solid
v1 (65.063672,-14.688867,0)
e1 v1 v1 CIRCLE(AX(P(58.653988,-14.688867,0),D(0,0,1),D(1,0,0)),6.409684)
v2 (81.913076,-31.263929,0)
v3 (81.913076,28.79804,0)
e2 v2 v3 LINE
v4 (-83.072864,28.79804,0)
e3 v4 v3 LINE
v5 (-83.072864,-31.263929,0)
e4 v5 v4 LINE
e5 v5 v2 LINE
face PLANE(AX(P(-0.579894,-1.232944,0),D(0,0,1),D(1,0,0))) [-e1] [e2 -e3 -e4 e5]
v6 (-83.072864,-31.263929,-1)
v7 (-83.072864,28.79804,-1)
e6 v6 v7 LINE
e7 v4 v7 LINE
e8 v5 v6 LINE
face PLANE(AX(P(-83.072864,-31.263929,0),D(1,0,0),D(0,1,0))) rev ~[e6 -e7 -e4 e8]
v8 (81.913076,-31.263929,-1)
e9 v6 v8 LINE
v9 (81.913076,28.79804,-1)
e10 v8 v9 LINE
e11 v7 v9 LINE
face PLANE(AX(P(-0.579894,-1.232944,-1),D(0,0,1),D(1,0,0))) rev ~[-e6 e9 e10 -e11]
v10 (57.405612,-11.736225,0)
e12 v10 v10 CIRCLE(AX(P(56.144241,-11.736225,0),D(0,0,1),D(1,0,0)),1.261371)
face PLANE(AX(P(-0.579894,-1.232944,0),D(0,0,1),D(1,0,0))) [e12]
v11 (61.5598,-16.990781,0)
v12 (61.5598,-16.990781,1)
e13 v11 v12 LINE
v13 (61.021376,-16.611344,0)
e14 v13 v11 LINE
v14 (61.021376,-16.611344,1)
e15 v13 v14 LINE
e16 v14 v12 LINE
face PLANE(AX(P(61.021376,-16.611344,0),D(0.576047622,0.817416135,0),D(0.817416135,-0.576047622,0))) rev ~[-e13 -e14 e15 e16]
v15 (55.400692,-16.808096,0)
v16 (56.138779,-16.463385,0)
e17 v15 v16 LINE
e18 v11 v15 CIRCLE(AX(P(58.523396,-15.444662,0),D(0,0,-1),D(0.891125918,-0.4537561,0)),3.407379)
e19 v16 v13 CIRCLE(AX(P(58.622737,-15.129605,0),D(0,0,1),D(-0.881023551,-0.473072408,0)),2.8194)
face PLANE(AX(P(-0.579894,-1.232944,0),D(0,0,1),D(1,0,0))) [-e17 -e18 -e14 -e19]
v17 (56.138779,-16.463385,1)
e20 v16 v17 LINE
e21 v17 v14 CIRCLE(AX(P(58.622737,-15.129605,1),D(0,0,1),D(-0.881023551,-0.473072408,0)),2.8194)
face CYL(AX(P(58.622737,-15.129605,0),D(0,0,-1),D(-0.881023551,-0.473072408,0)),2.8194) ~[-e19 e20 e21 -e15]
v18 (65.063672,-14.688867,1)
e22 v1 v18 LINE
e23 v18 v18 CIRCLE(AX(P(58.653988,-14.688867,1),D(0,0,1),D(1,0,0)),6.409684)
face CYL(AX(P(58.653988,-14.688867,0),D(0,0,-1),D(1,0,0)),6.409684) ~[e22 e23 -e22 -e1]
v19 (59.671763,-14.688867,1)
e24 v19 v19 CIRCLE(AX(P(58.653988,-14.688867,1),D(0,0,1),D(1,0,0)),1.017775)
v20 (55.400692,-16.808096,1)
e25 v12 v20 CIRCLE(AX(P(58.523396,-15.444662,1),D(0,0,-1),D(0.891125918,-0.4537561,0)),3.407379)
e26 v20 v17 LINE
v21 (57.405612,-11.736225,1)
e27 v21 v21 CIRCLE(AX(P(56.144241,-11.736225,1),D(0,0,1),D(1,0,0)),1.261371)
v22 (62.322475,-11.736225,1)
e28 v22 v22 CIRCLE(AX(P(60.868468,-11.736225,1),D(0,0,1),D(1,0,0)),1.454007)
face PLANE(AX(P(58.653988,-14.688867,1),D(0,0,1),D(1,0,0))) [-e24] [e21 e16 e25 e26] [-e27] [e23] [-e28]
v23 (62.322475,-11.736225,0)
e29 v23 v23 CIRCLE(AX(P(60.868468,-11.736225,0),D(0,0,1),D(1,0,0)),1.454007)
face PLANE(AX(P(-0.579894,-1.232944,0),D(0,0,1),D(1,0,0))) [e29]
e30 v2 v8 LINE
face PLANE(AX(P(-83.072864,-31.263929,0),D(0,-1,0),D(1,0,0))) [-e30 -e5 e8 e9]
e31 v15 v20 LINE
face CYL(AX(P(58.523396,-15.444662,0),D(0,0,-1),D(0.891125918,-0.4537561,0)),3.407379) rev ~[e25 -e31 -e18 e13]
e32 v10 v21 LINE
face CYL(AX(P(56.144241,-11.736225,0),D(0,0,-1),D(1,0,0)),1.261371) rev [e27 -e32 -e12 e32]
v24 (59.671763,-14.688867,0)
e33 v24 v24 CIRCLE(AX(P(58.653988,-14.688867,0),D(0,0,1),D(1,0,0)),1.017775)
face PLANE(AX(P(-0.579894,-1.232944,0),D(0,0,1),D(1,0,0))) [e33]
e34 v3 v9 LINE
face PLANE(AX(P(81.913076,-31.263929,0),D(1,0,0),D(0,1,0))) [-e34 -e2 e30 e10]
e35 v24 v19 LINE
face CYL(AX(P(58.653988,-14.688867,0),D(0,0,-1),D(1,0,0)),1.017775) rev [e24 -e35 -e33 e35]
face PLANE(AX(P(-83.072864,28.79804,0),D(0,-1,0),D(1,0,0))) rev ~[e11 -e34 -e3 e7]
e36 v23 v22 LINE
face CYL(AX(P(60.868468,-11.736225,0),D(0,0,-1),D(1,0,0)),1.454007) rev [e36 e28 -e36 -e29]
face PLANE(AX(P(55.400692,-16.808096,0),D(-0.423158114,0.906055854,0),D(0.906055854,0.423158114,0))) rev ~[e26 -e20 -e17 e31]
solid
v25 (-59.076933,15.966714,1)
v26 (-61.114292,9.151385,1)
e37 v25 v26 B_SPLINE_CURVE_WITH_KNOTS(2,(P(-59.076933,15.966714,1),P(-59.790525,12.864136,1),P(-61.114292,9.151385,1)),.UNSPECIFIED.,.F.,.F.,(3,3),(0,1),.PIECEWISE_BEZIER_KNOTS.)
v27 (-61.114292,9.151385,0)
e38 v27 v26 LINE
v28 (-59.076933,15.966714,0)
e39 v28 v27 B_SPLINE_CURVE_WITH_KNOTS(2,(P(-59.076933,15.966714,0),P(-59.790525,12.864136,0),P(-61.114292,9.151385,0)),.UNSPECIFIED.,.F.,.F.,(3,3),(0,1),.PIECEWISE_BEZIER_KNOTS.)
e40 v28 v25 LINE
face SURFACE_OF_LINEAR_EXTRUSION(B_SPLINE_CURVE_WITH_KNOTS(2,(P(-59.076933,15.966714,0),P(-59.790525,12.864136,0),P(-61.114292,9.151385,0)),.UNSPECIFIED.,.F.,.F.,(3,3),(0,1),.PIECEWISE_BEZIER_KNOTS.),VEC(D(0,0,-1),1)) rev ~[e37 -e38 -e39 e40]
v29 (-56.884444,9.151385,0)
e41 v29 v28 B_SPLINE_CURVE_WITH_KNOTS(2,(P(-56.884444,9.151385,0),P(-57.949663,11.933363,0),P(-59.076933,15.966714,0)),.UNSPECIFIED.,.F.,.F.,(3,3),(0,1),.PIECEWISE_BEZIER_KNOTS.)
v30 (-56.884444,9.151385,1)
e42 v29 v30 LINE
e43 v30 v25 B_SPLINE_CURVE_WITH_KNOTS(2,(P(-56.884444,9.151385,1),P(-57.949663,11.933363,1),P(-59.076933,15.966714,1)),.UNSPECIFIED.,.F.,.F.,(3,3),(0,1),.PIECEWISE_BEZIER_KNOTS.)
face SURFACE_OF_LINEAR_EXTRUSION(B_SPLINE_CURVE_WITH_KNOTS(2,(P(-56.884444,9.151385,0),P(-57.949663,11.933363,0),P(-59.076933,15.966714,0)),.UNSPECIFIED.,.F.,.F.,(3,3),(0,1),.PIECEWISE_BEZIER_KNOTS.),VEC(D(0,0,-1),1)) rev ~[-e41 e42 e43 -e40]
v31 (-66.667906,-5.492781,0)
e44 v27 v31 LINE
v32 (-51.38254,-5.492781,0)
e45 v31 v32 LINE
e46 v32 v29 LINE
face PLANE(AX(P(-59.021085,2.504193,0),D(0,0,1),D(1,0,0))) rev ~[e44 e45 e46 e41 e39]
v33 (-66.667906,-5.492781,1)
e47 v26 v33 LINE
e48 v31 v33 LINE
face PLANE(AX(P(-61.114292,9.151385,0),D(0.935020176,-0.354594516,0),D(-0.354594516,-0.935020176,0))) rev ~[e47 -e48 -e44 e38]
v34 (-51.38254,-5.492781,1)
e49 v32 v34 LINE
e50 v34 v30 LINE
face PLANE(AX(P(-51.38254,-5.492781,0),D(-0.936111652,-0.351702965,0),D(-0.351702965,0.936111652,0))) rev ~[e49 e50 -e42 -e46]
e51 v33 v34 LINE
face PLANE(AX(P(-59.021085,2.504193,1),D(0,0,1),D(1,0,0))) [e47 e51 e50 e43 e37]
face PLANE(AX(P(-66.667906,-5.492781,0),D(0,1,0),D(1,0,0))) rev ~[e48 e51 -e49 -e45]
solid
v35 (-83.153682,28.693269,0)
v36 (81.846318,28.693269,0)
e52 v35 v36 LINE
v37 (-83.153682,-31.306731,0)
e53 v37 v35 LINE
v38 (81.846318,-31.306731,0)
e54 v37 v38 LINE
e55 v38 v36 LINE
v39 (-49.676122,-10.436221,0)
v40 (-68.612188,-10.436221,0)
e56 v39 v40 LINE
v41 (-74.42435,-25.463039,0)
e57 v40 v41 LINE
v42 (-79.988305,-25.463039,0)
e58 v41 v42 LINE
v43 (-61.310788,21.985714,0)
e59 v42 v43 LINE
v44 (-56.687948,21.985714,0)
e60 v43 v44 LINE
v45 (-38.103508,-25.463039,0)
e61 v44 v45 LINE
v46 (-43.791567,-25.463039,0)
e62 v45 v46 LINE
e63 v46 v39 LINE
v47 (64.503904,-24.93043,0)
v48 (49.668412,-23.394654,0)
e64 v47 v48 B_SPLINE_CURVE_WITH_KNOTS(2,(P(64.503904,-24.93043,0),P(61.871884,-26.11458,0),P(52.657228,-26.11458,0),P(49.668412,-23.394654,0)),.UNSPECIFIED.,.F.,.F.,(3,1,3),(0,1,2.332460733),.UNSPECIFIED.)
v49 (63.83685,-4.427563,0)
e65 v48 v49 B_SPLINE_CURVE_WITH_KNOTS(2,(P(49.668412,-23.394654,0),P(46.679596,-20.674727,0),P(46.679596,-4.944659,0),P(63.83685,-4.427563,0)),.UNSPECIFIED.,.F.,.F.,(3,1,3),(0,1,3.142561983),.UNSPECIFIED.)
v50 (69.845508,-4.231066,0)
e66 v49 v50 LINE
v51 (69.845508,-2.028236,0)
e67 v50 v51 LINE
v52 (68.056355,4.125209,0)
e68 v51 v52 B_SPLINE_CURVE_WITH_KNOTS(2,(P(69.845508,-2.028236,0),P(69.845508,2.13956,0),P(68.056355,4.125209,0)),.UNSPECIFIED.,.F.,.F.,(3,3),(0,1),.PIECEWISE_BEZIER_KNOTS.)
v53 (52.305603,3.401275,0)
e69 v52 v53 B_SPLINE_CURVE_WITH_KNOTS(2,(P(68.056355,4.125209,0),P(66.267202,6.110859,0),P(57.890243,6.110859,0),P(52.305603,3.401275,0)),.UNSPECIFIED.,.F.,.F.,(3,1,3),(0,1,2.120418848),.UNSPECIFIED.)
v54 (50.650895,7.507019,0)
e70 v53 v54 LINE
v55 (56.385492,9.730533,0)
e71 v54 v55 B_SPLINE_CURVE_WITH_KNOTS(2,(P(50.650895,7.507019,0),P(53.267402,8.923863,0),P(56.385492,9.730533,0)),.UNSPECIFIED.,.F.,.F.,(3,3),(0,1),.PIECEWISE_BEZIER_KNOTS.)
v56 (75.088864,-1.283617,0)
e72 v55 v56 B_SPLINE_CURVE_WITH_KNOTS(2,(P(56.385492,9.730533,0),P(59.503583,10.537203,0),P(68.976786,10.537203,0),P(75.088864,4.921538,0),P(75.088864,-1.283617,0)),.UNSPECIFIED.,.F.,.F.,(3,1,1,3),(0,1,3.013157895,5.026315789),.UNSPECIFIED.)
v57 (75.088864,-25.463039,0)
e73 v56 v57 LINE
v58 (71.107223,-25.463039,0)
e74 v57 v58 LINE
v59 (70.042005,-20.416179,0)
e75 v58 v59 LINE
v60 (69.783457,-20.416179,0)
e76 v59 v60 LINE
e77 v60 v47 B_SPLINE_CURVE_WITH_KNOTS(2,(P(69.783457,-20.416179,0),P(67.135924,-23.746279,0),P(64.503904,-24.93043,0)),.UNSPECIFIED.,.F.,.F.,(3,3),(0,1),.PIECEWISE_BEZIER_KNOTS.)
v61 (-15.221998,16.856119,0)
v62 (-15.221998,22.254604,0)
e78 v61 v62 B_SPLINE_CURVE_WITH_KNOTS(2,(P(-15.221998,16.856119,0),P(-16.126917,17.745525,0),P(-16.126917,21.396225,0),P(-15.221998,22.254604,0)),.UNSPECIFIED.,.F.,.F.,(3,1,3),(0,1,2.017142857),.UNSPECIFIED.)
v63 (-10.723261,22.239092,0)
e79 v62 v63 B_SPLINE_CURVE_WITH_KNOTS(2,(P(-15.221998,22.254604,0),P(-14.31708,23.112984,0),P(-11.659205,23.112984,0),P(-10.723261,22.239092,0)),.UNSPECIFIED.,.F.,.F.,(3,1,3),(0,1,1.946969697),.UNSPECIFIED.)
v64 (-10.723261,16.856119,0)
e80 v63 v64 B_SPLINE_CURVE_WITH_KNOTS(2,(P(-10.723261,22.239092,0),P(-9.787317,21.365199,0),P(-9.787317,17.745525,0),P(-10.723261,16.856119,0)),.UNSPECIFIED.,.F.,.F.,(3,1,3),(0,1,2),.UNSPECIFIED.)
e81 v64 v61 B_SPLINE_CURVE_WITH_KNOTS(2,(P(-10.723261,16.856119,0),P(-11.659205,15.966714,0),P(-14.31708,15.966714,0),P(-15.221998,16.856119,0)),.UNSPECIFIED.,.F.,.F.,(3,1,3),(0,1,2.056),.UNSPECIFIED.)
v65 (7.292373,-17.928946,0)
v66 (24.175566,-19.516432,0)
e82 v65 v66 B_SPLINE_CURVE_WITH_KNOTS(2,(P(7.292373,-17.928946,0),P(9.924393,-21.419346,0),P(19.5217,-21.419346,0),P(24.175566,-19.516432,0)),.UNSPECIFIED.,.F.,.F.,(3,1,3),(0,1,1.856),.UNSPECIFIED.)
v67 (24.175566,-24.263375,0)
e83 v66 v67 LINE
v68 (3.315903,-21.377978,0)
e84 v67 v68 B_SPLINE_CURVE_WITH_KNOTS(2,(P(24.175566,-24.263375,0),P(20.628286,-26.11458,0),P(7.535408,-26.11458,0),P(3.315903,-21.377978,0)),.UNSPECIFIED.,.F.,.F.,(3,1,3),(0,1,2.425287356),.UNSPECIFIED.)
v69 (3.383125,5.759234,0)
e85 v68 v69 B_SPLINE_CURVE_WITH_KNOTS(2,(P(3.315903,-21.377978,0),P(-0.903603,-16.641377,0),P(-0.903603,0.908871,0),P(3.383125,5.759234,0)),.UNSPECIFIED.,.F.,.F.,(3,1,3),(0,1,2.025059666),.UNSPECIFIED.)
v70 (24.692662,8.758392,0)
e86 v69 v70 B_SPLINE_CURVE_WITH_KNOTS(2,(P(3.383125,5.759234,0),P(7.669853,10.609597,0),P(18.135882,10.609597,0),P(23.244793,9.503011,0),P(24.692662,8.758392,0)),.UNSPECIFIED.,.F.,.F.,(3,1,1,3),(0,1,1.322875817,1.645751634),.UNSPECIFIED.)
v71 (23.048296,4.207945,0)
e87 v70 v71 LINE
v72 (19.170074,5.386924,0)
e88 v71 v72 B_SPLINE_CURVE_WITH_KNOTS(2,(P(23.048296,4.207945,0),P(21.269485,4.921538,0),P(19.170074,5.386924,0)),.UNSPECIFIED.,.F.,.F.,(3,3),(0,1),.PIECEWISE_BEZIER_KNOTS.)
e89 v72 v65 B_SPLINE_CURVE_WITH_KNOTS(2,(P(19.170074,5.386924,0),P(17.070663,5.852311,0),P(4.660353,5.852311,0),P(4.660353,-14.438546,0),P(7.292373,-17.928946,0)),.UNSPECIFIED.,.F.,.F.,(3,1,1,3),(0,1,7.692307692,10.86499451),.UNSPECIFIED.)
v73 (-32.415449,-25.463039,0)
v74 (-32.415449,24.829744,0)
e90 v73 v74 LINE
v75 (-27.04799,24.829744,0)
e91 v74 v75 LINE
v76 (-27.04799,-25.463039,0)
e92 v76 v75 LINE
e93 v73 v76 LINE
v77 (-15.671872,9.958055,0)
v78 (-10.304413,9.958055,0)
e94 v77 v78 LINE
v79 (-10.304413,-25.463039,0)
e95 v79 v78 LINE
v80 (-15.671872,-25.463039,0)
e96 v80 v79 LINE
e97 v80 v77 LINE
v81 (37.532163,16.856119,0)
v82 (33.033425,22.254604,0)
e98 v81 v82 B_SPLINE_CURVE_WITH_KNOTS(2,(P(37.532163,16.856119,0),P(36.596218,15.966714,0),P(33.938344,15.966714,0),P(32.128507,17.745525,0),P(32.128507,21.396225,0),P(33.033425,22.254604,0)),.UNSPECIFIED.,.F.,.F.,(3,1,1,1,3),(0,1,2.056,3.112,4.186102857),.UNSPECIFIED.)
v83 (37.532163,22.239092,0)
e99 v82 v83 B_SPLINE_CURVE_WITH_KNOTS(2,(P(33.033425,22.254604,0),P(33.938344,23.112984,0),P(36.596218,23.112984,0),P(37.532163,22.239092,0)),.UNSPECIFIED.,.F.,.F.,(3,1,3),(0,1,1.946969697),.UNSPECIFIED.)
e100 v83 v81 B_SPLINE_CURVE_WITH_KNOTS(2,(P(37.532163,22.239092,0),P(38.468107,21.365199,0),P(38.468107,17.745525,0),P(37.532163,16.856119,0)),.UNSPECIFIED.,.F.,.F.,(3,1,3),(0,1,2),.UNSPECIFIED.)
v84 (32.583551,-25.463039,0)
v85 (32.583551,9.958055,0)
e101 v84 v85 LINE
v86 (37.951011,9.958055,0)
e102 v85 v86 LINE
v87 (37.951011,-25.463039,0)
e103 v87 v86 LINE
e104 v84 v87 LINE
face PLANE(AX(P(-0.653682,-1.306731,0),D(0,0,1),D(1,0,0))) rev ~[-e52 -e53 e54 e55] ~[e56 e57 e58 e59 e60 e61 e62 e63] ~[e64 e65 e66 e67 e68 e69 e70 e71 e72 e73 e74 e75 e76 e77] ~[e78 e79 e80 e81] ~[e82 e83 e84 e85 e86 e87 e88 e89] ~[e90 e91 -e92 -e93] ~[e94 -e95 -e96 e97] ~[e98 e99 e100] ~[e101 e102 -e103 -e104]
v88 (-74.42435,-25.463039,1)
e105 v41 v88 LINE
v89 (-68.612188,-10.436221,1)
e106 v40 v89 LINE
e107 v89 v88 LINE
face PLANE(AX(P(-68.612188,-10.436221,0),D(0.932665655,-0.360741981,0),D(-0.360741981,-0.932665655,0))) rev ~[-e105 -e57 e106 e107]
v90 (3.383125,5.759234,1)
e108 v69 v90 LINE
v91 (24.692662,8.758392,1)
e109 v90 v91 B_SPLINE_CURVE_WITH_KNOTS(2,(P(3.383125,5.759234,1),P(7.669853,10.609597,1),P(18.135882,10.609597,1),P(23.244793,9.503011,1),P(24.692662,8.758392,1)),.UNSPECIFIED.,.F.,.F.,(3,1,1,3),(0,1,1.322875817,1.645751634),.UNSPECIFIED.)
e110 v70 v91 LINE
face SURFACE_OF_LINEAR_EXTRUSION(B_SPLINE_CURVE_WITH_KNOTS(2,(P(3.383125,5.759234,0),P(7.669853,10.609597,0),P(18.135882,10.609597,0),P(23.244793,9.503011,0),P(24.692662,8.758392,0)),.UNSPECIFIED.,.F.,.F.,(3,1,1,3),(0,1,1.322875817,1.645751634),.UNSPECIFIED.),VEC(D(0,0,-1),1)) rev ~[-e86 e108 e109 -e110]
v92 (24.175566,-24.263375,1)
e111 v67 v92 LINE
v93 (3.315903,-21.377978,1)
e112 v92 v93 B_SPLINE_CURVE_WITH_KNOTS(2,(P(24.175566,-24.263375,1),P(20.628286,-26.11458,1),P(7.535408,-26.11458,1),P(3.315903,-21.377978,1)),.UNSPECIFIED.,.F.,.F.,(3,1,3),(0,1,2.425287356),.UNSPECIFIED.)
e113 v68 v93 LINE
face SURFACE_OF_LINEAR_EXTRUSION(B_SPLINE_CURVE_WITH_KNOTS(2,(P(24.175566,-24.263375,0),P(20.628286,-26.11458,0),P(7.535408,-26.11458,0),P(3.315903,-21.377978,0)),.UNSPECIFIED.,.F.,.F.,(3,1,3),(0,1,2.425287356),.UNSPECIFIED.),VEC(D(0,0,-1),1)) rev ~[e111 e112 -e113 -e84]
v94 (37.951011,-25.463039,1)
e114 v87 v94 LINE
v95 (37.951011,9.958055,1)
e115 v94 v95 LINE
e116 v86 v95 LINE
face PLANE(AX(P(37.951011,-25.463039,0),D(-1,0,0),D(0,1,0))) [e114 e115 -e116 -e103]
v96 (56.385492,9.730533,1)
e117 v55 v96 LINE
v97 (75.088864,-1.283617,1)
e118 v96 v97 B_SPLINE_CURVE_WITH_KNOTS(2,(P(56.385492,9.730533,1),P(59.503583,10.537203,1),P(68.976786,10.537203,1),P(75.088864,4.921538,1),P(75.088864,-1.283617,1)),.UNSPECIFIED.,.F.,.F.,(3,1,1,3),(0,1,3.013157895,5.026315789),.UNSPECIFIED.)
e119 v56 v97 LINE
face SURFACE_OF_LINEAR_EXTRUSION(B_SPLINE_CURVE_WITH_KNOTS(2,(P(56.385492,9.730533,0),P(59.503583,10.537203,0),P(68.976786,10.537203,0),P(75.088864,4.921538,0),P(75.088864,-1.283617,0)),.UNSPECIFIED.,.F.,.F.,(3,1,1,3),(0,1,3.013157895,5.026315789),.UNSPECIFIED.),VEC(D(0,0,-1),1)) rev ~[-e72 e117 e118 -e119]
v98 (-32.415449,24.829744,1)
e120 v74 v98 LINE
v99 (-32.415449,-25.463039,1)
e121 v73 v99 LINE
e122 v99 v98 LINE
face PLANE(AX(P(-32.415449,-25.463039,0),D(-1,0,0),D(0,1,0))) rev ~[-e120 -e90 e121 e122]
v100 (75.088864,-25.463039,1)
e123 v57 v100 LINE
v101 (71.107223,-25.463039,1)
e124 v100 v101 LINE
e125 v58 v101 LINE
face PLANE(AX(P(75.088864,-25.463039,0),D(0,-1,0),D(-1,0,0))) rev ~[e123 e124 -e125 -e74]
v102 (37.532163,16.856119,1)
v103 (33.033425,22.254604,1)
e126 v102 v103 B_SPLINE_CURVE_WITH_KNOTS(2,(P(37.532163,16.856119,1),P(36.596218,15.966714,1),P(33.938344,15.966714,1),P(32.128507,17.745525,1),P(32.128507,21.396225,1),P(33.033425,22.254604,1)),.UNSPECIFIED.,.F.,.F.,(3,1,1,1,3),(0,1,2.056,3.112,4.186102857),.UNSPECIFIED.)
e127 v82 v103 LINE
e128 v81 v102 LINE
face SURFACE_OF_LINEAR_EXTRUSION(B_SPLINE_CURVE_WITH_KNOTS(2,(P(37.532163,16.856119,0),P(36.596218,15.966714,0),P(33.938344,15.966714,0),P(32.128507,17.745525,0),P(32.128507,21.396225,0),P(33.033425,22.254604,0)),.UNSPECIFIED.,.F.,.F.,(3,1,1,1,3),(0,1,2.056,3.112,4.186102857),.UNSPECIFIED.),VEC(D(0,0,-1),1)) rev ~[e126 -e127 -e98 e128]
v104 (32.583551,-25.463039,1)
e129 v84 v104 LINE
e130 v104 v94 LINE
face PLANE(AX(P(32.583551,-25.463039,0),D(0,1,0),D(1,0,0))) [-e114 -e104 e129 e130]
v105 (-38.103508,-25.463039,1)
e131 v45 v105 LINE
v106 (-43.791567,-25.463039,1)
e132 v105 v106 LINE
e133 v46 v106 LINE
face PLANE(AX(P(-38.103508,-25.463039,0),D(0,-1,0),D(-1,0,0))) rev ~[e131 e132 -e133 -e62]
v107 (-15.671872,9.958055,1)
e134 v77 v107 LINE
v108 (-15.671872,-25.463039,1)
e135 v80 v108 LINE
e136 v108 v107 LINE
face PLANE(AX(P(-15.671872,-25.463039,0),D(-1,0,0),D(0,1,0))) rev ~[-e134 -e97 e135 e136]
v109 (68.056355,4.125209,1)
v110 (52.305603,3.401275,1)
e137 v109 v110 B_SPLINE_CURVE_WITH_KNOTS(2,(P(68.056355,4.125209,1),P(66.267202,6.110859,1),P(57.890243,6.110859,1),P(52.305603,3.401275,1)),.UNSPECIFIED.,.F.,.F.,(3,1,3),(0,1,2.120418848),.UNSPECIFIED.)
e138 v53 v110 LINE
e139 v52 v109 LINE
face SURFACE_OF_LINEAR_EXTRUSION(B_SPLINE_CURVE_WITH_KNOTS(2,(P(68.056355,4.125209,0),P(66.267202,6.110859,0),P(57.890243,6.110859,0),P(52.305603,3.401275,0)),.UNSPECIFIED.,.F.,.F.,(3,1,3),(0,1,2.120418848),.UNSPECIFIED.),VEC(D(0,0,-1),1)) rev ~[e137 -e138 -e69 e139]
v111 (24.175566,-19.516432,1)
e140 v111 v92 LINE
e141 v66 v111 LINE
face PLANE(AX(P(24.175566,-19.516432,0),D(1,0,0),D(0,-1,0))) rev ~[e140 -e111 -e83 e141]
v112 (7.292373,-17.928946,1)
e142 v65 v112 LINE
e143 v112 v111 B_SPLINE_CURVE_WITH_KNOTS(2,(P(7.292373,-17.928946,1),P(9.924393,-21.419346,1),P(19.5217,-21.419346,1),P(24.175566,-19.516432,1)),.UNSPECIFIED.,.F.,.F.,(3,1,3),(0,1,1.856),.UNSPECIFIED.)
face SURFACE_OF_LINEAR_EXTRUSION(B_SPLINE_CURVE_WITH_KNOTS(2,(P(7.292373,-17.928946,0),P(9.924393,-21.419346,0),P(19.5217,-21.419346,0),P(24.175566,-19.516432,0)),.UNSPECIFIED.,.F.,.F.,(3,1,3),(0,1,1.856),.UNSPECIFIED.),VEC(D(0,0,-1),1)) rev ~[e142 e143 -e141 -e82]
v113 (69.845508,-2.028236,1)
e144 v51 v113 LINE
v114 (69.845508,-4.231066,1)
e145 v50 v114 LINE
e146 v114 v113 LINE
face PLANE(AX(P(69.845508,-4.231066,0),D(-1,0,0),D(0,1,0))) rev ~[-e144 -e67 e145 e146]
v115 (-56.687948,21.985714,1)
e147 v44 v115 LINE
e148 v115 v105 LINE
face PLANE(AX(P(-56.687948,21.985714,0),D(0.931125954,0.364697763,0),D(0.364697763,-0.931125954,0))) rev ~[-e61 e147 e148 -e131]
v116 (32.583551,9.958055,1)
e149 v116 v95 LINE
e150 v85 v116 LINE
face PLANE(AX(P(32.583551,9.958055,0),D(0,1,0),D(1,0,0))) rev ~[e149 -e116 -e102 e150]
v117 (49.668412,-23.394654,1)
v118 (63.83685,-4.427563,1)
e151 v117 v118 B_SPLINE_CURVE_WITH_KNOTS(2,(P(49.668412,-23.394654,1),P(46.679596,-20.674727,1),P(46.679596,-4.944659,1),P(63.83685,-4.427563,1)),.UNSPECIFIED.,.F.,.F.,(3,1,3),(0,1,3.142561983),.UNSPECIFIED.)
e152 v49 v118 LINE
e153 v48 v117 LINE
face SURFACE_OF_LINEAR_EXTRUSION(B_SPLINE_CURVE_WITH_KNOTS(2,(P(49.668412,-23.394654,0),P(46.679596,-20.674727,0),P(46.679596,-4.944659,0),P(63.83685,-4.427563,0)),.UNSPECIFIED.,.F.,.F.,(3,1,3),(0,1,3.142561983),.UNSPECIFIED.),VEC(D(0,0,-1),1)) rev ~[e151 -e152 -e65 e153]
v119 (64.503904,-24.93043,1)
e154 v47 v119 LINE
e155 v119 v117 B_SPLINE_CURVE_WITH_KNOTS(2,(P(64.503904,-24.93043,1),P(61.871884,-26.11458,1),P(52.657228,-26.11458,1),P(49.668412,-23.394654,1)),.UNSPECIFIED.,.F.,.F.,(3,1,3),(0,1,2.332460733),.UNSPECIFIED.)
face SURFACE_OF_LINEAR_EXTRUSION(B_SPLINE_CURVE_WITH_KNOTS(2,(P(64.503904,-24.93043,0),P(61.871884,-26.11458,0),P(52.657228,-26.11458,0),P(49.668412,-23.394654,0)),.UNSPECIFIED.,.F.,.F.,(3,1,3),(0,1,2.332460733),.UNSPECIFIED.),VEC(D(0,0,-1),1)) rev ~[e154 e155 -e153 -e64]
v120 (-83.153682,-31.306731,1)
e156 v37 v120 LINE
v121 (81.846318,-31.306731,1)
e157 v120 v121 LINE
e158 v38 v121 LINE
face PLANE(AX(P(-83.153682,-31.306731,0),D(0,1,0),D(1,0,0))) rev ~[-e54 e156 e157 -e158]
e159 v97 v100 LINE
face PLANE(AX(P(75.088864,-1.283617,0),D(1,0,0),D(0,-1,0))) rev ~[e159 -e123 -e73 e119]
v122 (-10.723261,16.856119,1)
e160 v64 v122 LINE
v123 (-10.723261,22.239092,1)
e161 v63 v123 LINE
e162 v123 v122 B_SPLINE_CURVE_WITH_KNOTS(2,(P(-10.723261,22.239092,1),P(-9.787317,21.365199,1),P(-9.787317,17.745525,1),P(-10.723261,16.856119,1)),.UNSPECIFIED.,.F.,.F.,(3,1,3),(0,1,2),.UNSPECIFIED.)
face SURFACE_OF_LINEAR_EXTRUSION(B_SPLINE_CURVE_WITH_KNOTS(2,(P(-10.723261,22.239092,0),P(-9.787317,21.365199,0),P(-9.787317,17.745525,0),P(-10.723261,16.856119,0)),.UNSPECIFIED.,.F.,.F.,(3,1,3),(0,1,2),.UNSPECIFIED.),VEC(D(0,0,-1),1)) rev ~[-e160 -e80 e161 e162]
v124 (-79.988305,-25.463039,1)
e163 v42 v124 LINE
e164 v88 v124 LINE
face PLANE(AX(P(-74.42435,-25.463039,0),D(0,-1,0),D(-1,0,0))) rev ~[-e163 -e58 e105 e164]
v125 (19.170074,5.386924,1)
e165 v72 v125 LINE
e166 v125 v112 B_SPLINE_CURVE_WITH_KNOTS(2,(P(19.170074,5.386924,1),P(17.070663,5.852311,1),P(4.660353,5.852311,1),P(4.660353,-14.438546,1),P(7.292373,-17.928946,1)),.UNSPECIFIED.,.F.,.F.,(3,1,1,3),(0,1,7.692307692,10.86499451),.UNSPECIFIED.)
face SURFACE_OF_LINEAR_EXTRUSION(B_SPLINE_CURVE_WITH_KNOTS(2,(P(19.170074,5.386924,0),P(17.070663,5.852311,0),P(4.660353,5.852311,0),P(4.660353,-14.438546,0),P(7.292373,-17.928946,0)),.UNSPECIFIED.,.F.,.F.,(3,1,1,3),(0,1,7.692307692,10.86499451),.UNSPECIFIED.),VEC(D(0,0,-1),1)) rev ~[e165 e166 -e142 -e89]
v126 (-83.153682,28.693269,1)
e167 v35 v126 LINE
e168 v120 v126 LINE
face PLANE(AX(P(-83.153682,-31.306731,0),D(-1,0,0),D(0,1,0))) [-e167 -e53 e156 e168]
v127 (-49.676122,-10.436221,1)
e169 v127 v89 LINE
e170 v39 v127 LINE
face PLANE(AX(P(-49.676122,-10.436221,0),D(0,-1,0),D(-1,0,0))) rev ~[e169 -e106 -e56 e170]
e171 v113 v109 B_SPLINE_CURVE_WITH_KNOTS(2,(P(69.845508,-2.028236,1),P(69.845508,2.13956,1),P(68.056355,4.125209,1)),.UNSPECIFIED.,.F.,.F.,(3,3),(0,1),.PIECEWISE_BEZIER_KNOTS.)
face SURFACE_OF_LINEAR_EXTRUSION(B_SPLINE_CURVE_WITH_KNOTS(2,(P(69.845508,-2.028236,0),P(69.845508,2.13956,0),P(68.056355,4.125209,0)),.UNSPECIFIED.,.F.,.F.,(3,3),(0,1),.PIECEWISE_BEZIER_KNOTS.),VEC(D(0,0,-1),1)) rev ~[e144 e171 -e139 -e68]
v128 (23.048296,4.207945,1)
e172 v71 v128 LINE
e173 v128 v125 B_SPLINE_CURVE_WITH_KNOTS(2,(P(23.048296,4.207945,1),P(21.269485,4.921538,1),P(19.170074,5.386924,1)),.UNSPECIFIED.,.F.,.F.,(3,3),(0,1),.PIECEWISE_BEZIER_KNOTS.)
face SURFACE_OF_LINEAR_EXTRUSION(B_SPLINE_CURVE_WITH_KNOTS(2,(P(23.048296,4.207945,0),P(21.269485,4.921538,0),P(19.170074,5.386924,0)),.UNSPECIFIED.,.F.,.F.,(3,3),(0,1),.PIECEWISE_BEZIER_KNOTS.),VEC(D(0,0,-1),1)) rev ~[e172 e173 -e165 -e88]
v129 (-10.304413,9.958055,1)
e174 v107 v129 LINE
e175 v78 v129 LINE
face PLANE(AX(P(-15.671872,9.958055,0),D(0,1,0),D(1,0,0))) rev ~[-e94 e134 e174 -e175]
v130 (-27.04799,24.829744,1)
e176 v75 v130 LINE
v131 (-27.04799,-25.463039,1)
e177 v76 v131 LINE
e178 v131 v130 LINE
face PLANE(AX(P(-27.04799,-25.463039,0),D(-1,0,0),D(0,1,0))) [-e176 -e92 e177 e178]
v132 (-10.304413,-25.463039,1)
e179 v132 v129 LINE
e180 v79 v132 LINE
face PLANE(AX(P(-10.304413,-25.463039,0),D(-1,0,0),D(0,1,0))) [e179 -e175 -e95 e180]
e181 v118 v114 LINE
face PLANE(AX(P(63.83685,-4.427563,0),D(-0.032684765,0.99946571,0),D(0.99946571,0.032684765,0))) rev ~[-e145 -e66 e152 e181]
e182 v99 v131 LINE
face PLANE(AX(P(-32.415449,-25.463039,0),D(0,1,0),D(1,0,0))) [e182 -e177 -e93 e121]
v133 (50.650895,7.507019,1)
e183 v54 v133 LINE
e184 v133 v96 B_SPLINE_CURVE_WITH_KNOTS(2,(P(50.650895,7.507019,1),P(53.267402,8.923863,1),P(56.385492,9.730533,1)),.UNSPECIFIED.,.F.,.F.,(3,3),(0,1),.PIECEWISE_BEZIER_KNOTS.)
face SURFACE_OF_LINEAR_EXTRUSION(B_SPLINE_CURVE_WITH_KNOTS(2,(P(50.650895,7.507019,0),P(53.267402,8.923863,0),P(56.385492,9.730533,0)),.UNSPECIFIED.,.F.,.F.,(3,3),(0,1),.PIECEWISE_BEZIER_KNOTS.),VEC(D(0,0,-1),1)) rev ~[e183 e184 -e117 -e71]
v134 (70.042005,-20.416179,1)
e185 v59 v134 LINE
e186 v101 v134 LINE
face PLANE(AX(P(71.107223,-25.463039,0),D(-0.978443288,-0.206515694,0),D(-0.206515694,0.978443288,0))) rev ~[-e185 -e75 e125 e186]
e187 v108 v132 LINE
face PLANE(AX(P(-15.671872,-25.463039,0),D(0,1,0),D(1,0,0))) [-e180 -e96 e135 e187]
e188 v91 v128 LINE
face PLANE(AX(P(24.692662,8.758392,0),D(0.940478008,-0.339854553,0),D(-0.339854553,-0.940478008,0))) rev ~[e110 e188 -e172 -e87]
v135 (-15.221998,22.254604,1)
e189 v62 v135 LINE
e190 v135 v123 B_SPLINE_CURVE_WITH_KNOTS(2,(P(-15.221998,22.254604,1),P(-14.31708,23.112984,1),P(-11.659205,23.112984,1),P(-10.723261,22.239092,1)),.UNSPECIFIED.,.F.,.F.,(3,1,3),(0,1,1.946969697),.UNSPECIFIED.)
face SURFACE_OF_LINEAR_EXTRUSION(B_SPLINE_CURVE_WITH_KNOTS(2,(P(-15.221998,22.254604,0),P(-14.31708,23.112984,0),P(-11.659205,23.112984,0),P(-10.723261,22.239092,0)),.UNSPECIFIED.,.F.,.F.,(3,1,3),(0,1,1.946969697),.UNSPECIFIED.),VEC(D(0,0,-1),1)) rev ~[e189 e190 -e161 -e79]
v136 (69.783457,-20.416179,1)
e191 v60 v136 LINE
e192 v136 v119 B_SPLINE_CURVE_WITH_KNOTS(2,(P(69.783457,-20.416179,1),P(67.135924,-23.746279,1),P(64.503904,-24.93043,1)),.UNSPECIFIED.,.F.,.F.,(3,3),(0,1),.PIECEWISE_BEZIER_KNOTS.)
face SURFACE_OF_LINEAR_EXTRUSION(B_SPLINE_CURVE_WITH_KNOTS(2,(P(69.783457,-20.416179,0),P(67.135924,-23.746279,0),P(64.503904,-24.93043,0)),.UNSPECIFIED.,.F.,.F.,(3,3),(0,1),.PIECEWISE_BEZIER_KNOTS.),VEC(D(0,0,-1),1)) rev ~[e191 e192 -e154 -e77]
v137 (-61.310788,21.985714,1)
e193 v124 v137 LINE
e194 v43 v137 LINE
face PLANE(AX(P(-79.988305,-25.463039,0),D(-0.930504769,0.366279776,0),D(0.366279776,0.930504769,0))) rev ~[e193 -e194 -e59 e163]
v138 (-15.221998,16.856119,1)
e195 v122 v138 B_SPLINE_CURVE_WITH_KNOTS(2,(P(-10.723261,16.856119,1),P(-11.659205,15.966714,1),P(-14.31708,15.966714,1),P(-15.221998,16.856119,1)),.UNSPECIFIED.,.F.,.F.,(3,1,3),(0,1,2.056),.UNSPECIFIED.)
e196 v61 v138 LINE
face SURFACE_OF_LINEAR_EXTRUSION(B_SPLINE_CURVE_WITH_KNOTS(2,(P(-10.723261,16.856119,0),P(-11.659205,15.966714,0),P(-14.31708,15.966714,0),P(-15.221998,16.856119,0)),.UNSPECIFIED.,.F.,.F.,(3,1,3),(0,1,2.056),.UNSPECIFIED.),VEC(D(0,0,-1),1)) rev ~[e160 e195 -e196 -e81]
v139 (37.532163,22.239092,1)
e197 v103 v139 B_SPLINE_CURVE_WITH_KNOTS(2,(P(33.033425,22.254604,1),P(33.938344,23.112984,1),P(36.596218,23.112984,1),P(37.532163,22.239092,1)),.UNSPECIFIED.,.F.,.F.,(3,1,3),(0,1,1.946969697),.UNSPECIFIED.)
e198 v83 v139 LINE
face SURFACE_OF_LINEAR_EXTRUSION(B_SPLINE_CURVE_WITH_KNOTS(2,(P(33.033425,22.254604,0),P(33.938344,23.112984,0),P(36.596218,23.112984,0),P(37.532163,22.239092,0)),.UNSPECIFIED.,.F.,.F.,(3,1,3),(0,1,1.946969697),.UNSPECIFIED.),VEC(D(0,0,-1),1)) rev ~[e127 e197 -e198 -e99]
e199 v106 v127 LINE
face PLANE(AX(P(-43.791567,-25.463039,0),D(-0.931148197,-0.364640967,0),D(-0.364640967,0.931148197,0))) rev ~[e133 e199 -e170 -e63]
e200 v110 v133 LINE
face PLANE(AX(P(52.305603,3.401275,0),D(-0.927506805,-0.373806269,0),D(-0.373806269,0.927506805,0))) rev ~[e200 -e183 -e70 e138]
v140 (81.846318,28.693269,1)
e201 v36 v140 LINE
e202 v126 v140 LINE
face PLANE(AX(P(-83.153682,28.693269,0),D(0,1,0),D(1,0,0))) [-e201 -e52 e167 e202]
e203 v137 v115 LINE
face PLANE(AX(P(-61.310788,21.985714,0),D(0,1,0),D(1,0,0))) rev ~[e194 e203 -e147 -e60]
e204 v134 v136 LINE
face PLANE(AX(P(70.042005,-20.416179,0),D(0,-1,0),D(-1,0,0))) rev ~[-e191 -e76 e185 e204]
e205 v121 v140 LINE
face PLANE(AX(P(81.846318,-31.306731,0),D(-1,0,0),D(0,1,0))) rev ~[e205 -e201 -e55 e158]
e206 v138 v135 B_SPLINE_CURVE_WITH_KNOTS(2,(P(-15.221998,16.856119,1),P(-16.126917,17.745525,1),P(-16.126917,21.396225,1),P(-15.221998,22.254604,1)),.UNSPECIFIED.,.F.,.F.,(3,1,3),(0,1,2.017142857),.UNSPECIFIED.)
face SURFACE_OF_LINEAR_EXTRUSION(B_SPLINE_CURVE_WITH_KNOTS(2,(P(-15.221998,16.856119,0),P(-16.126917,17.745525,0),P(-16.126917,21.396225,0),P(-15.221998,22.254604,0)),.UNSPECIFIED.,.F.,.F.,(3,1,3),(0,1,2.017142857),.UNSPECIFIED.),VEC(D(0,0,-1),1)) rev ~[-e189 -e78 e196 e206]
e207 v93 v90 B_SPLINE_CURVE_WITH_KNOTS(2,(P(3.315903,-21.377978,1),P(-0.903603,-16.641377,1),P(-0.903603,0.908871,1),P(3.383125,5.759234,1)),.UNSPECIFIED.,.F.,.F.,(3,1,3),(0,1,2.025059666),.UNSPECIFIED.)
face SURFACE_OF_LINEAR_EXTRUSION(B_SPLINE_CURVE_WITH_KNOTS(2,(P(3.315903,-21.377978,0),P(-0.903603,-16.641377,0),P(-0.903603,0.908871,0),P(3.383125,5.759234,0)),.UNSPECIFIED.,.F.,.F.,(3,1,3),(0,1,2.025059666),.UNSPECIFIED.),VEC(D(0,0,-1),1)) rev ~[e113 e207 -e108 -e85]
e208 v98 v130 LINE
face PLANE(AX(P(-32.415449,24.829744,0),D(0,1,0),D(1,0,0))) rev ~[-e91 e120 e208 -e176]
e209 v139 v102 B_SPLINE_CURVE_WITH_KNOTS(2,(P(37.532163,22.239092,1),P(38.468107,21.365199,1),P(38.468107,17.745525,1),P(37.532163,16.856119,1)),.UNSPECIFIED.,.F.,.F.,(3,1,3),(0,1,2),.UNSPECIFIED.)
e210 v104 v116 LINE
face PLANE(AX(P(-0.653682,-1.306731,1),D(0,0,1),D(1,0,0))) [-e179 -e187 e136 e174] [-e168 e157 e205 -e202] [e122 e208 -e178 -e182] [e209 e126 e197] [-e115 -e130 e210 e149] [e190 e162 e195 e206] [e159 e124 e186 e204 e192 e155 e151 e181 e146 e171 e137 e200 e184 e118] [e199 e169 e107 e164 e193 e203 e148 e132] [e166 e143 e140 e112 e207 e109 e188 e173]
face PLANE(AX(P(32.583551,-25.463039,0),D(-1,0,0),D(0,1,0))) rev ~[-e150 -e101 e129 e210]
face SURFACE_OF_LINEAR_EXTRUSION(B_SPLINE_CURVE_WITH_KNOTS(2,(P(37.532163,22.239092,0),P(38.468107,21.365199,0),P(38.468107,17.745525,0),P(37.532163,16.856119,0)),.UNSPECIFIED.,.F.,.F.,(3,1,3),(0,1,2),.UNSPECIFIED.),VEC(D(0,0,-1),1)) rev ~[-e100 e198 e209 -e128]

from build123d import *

# Parameters (mm, degrees)
F0_W     = 165
F0_H     = 60
F0_W_2   = 5.3674592261
F0_H_2   = 35.4210941219
F0_H_3   = 50.2927826904
F1_DEPTH = 1
F2_W     = 164.9859398603
F2_H     = 60.061968863
F3_DEPTH = 1
F4_R     = 6.409683708
F4_R_2   = 1.2613707954
F4_R_3   = 1.0177752813
F4_R_4   = 1.454007205
F5_DEPTH = 1


with BuildPart() as f1:
    # F0 (on Top) → F1 (new body)
    with BuildSketch(Plane.XY):
        with Locations((-0.6536817551, -1.306731385)):
            Rectangle(F0_W, F0_H)
        Polygon((-38.1035080281, -25.4630388226), (-43.7915669382, -25.4630388226), (-49.6761224288, -10.4362213747), (-68.6121876368, -10.4362213747), (-74.4243496503, -25.4630388226), (-79.9883054569, -25.4630388226), (-61.3107883813, 21.9857144127), (-56.6879477762, 21.9857144127), align=None, mode=Mode.SUBTRACT)
        with Locations((-12.9881424588, -7.7524917617)):
            Rectangle(F0_W_2, F0_H_2, mode=Mode.SUBTRACT)
        with BuildLine():
            add(Edge.make_bspline(
                [(24.1755660746, -24.2633754889), (20.6282856998, -26.114580116), (15.2298006979, -26.114580116)],
                knots=[0, 0, 0, 1, 1, 1], degree=2))
            add(Edge.make_bspline(
                [(15.2298006979, -26.114580116), (7.5354082813, -26.114580116), (3.3159027626, -21.3779783327)],
                knots=[0, 0, 0, 1, 1, 1], degree=2))
            add(Edge.make_bspline(
                [(3.3159027626, -21.3779783327), (-0.9036027562, -16.6413765494), (-0.9036027562, -7.9748431555)],
                knots=[0, 0, 0, 1, 1, 1], degree=2))
            add(Edge.make_bspline(
                [(-0.9036027562, -7.9748431555), (-0.9036027562, 0.9088706696), (3.3831252769, 5.7592336311)],
                knots=[0, 0, 0, 1, 1, 1], degree=2))
            add(Edge.make_bspline(
                [(3.3831252769, 5.7592336311), (7.6698533101, 10.6095965926), (15.5814261577, 10.6095965926)],
                knots=[0, 0, 0, 1, 1, 1], degree=2))
            add(Edge.make_bspline(
                [(15.5814261577, 10.6095965926), (18.1358817046, 10.6095965926), (20.6903372515, 10.0563035895)],
                knots=[0, 0, 0, 1, 1, 1], degree=2))
            add(Edge.make_bspline(
                [(20.6903372515, 10.0563035895), (23.2447927984, 9.5030105864), (24.6926623392, 8.7583919655)],
                knots=[0, 0, 0, 1, 1, 1], degree=2))
            Line((24.6926623392, 8.7583919655), (23.0482962179, 4.2079448374))
            add(Edge.make_bspline(
                [(23.0482962179, 4.2079448374), (21.2694850678, 4.9215376825), (19.1700742337, 5.3869243206)],
                knots=[0, 0, 0, 1, 1, 1], degree=2))
            add(Edge.make_bspline(
                [(19.1700742337, 5.3869243206), (17.0706633997, 5.8523109587), (15.4573230543, 5.8523109587)],
                knots=[0, 0, 0, 1, 1, 1], degree=2))
            add(Edge.make_bspline(
                [(15.4573230543, 5.8523109587), (4.6603530504, 5.8523109587), (4.6603530504, -7.9127916037)],
                knots=[0, 0, 0, 1, 1, 1], degree=2))
            add(Edge.make_bspline(
                [(4.6603530504, -7.9127916037), (4.6603530504, -14.4385464624), (7.292373037, -17.9289462481)],
                knots=[0, 0, 0, 1, 1, 1], degree=2))
            add(Edge.make_bspline(
                [(7.292373037, -17.9289462481), (9.9243930235, -21.4193460338), (15.0953556691, -21.4193460338)],
                knots=[0, 0, 0, 1, 1, 1], degree=2))
            add(Edge.make_bspline(
                [(15.0953556691, -21.4193460338), (19.5216996936, -21.4193460338), (24.1755660746, -19.5164317803)],
                knots=[0, 0, 0, 1, 1, 1], degree=2))
            Line((24.1755660746, -19.5164317803), (24.1755660746, -24.2633754889))
        make_face(mode=Mode.SUBTRACT)
        with Locations((35.2672809493, -7.7524917617)):
            Rectangle(F0_W_2, F0_H_2, mode=Mode.SUBTRACT)
        with BuildLine():
            Line((75.0888642825, -25.4630388226), (71.1072230454, -25.4630388226))
            Line((71.1072230454, -25.4630388226), (70.0420047405, -20.4161792806))
            Line((70.0420047405, -20.4161792806), (69.7834566082, -20.4161792806))
            add(Edge.make_bspline(
                [(69.7834566082, -20.4161792806), (67.1359237337, -23.7462792243), (64.5039037471, -24.9304296701)],
                knots=[0, 0, 0, 1, 1, 1], degree=2))
            add(Edge.make_bspline(
                [(64.5039037471, -24.9304296701), (61.8718837605, -26.114580116), (57.9212682993, -26.114580116)],
                knots=[0, 0, 0, 1, 1, 1], degree=2))
            add(Edge.make_bspline(
                [(57.9212682993, -26.114580116), (52.6572283262, -26.114580116), (49.6684119171, -23.3946537644)],
                knots=[0, 0, 0, 1, 1, 1], degree=2))
            add(Edge.make_bspline(
                [(49.6684119171, -23.3946537644), (46.679595508, -20.6747274129), (46.679595508, -15.669235572)],
                knots=[0, 0, 0, 1, 1, 1], degree=2))
            add(Edge.make_bspline(
                [(46.679595508, -15.669235572), (46.679595508, -4.9446590452), (63.8368495658, -4.4275627806)],
                knots=[0, 0, 0, 1, 1, 1], degree=2))
            Line((63.8368495658, -4.4275627806), (69.8455081599, -4.2310662001))
            Line((69.8455081599, -4.2310662001), (69.8455081599, -2.0282361131))
            add(Edge.make_bspline(
                [(69.8455081599, -2.0282361131), (69.8455081599, 2.1395597792), (68.0563550846, 4.1252094351)],
                knots=[0, 0, 0, 1, 1, 1], degree=2))
            add(Edge.make_bspline(
                [(68.0563550846, 4.1252094351), (66.2672020092, 6.110859091), (62.316586548, 6.110859091)],
                knots=[0, 0, 0, 1, 1, 1], degree=2))
            add(Edge.make_bspline(
                [(62.316586548, 6.110859091), (57.8902425235, 6.110859091), (52.3056028663, 3.4012746647)],
                knots=[0, 0, 0, 1, 1, 1], degree=2))
            Line((52.3056028663, 3.4012746647), (50.6508948197, 7.5070190053))
            add(Edge.make_bspline(
                [(50.6508948197, 7.5070190053), (53.2674019184, 8.9238627701), (56.3854923936, 9.7305329428)],
                knots=[0, 0, 0, 1, 1, 1], degree=2))
            add(Edge.make_bspline(
                [(56.3854923936, 9.7305329428), (59.5035828689, 10.5372031155), (62.6475281574, 10.5372031155)],
                knots=[0, 0, 0, 1, 1, 1], degree=2))
            add(Edge.make_bspline(
                [(62.6475281574, 10.5372031155), (68.9767864355, 10.5372031155), (72.032825359, 7.729370399)],
                knots=[0, 0, 0, 1, 1, 1], degree=2))
            add(Edge.make_bspline(
                [(72.032825359, 7.729370399), (75.0888642825, 4.9215376825), (75.0888642825, -1.2836174921)],
                knots=[0, 0, 0, 1, 1, 1], degree=2))
            Line((75.0888642825, -1.2836174921), (75.0888642825, -25.4630388226))
        make_face(mode=Mode.SUBTRACT)
        with Locations((-29.731719505, -0.3166474774)):
            Rectangle(F0_W_2, F0_H_3, mode=Mode.SUBTRACT)
        with BuildLine():
            add(Edge.make_bspline(
                [(-15.2219983217, 16.8561194684), (-16.1269167846, 17.7455250434), (-16.1269167846, 19.5553619693)],
                knots=[0, 0, 0, 1, 1, 1], degree=2))
            add(Edge.make_bspline(
                [(-16.1269167846, 19.5553619693), (-16.1269167846, 21.3962246712), (-15.2219983217, 22.2546044703)],
                knots=[0, 0, 0, 1, 1, 1], degree=2))
            add(Edge.make_bspline(
                [(-15.2219983217, 22.2546044703), (-14.3170798587, 23.1129842695), (-12.9519457203, 23.1129842695)],
                knots=[0, 0, 0, 1, 1, 1], degree=2))
            add(Edge.make_bspline(
                [(-12.9519457203, 23.1129842695), (-11.6592050589, 23.1129842695), (-10.7232608201, 22.2390915824)],
                knots=[0, 0, 0, 1, 1, 1], degree=2))
            add(Edge.make_bspline(
                [(-10.7232608201, 22.2390915824), (-9.7873165812, 21.3651988953), (-9.7873165812, 19.5553619693)],
                knots=[0, 0, 0, 1, 1, 1], degree=2))
            add(Edge.make_bspline(
                [(-9.7873165812, 19.5553619693), (-9.7873165812, 17.7455250434), (-10.7232608201, 16.8561194684)],
                knots=[0, 0, 0, 1, 1, 1], degree=2))
            add(Edge.make_bspline(
                [(-10.7232608201, 16.8561194684), (-11.6592050589, 15.9667138934), (-12.9519457203, 15.9667138934)],
                knots=[0, 0, 0, 1, 1, 1], degree=2))
            add(Edge.make_bspline(
                [(-12.9519457203, 15.9667138934), (-14.3170798587, 15.9667138934), (-15.2219983217, 16.8561194684)],
                knots=[0, 0, 0, 1, 1, 1], degree=2))
        make_face(mode=Mode.SUBTRACT)
        with BuildLine():
            add(Edge.make_bspline(
                [(33.0334250864, 16.8561194684), (32.1285066234, 17.7455250434), (32.1285066234, 19.5553619693)],
                knots=[0, 0, 0, 1, 1, 1], degree=2))
            add(Edge.make_bspline(
                [(32.1285066234, 19.5553619693), (32.1285066234, 21.3962246712), (33.0334250864, 22.2546044703)],
                knots=[0, 0, 0, 1, 1, 1], degree=2))
            add(Edge.make_bspline(
                [(33.0334250864, 22.2546044703), (33.9383435494, 23.1129842695), (35.3034776878, 23.1129842695)],
                knots=[0, 0, 0, 1, 1, 1], degree=2))
            add(Edge.make_bspline(
                [(35.3034776878, 23.1129842695), (36.5962183492, 23.1129842695), (37.532162588, 22.2390915824)],
                knots=[0, 0, 0, 1, 1, 1], degree=2))
            add(Edge.make_bspline(
                [(37.532162588, 22.2390915824), (38.4681068269, 21.3651988953), (38.4681068269, 19.5553619693)],
                knots=[0, 0, 0, 1, 1, 1], degree=2))
            add(Edge.make_bspline(
                [(38.4681068269, 19.5553619693), (38.4681068269, 17.7455250434), (37.532162588, 16.8561194684)],
                knots=[0, 0, 0, 1, 1, 1], degree=2))
            add(Edge.make_bspline(
                [(37.532162588, 16.8561194684), (36.5962183492, 15.9667138934), (35.3034776878, 15.9667138934)],
                knots=[0, 0, 0, 1, 1, 1], degree=2))
            add(Edge.make_bspline(
                [(35.3034776878, 15.9667138934), (33.9383435494, 15.9667138934), (33.0334250864, 16.8561194684)],
                knots=[0, 0, 0, 1, 1, 1], degree=2))
        make_face(mode=Mode.SUBTRACT)
    extrude(amount=F1_DEPTH)


with BuildPart() as f1b:
    # F0 (on Top) → F1, piece 2 (new body)
    with BuildSketch(Plane.XY):
        with BuildLine():
            Line((-66.6679056821, -5.4927810856), (-51.3825401019, -5.4927810856))
            Line((-51.3825401019, -5.4927810856), (-56.8844443567, 9.1513851265))
            add(Edge.make_bspline(
                [(-56.8844443567, 9.1513851265), (-57.9496626617, 11.9333630298), (-59.0769325184, 15.9667138934)],
                knots=[0, 0, 0, 1, 1, 1], degree=2))
            add(Edge.make_bspline(
                [(-59.0769325184, 15.9667138934), (-59.7905253635, 12.864136306), (-61.1142918008, 9.1513851265)],
                knots=[0, 0, 0, 1, 1, 1], degree=2))
            Line((-61.1142918008, 9.1513851265), (-66.6679056821, -5.4927810856))
        make_face()
    extrude(amount=F1_DEPTH)


with BuildPart() as f3:
    # F2 (on Top) → F3 (new body)
    with BuildSketch(Plane.XY):
        with Locations((-0.579893589, -1.2329444289)):
            Rectangle(F2_W, F2_H)
    extrude(amount=-F3_DEPTH)

    # F4 (on Top) → F5 (join)
    with BuildSketch(Plane.XY):
        with Locations((58.6539879441, -14.6888671443)):
            Circle(F4_R)
        with BuildLine():
            Line((55.4006919265, -16.8080963194), (56.1387794259, -16.463384994))
            ThreePointArc((56.1387794259, -16.463384994), (58.5373394084, -17.9477110273), (61.0213756043, -16.6113435853))
            Line((61.0213756043, -16.6113435853), (61.5598000586, -16.9907808304))
            ThreePointArc((61.5598000586, -16.9907808304), (58.4223745304, -18.8505431924), (55.4006919265, -16.8080963194))
        make_face(mode=Mode.SUBTRACT)
        with Locations((56.1442412436, -11.7362253368)):
            Circle(F4_R_2, mode=Mode.SUBTRACT)
        with Locations((58.6539879441, -14.6888671443)):
            Circle(F4_R_3, mode=Mode.SUBTRACT)
        with Locations((60.8684681356, -11.7362253368)):
            Circle(F4_R_4, mode=Mode.SUBTRACT)
    extrude(amount=F5_DEPTH)


solid = Compound([f1.part, f1b.part, f3.part])
